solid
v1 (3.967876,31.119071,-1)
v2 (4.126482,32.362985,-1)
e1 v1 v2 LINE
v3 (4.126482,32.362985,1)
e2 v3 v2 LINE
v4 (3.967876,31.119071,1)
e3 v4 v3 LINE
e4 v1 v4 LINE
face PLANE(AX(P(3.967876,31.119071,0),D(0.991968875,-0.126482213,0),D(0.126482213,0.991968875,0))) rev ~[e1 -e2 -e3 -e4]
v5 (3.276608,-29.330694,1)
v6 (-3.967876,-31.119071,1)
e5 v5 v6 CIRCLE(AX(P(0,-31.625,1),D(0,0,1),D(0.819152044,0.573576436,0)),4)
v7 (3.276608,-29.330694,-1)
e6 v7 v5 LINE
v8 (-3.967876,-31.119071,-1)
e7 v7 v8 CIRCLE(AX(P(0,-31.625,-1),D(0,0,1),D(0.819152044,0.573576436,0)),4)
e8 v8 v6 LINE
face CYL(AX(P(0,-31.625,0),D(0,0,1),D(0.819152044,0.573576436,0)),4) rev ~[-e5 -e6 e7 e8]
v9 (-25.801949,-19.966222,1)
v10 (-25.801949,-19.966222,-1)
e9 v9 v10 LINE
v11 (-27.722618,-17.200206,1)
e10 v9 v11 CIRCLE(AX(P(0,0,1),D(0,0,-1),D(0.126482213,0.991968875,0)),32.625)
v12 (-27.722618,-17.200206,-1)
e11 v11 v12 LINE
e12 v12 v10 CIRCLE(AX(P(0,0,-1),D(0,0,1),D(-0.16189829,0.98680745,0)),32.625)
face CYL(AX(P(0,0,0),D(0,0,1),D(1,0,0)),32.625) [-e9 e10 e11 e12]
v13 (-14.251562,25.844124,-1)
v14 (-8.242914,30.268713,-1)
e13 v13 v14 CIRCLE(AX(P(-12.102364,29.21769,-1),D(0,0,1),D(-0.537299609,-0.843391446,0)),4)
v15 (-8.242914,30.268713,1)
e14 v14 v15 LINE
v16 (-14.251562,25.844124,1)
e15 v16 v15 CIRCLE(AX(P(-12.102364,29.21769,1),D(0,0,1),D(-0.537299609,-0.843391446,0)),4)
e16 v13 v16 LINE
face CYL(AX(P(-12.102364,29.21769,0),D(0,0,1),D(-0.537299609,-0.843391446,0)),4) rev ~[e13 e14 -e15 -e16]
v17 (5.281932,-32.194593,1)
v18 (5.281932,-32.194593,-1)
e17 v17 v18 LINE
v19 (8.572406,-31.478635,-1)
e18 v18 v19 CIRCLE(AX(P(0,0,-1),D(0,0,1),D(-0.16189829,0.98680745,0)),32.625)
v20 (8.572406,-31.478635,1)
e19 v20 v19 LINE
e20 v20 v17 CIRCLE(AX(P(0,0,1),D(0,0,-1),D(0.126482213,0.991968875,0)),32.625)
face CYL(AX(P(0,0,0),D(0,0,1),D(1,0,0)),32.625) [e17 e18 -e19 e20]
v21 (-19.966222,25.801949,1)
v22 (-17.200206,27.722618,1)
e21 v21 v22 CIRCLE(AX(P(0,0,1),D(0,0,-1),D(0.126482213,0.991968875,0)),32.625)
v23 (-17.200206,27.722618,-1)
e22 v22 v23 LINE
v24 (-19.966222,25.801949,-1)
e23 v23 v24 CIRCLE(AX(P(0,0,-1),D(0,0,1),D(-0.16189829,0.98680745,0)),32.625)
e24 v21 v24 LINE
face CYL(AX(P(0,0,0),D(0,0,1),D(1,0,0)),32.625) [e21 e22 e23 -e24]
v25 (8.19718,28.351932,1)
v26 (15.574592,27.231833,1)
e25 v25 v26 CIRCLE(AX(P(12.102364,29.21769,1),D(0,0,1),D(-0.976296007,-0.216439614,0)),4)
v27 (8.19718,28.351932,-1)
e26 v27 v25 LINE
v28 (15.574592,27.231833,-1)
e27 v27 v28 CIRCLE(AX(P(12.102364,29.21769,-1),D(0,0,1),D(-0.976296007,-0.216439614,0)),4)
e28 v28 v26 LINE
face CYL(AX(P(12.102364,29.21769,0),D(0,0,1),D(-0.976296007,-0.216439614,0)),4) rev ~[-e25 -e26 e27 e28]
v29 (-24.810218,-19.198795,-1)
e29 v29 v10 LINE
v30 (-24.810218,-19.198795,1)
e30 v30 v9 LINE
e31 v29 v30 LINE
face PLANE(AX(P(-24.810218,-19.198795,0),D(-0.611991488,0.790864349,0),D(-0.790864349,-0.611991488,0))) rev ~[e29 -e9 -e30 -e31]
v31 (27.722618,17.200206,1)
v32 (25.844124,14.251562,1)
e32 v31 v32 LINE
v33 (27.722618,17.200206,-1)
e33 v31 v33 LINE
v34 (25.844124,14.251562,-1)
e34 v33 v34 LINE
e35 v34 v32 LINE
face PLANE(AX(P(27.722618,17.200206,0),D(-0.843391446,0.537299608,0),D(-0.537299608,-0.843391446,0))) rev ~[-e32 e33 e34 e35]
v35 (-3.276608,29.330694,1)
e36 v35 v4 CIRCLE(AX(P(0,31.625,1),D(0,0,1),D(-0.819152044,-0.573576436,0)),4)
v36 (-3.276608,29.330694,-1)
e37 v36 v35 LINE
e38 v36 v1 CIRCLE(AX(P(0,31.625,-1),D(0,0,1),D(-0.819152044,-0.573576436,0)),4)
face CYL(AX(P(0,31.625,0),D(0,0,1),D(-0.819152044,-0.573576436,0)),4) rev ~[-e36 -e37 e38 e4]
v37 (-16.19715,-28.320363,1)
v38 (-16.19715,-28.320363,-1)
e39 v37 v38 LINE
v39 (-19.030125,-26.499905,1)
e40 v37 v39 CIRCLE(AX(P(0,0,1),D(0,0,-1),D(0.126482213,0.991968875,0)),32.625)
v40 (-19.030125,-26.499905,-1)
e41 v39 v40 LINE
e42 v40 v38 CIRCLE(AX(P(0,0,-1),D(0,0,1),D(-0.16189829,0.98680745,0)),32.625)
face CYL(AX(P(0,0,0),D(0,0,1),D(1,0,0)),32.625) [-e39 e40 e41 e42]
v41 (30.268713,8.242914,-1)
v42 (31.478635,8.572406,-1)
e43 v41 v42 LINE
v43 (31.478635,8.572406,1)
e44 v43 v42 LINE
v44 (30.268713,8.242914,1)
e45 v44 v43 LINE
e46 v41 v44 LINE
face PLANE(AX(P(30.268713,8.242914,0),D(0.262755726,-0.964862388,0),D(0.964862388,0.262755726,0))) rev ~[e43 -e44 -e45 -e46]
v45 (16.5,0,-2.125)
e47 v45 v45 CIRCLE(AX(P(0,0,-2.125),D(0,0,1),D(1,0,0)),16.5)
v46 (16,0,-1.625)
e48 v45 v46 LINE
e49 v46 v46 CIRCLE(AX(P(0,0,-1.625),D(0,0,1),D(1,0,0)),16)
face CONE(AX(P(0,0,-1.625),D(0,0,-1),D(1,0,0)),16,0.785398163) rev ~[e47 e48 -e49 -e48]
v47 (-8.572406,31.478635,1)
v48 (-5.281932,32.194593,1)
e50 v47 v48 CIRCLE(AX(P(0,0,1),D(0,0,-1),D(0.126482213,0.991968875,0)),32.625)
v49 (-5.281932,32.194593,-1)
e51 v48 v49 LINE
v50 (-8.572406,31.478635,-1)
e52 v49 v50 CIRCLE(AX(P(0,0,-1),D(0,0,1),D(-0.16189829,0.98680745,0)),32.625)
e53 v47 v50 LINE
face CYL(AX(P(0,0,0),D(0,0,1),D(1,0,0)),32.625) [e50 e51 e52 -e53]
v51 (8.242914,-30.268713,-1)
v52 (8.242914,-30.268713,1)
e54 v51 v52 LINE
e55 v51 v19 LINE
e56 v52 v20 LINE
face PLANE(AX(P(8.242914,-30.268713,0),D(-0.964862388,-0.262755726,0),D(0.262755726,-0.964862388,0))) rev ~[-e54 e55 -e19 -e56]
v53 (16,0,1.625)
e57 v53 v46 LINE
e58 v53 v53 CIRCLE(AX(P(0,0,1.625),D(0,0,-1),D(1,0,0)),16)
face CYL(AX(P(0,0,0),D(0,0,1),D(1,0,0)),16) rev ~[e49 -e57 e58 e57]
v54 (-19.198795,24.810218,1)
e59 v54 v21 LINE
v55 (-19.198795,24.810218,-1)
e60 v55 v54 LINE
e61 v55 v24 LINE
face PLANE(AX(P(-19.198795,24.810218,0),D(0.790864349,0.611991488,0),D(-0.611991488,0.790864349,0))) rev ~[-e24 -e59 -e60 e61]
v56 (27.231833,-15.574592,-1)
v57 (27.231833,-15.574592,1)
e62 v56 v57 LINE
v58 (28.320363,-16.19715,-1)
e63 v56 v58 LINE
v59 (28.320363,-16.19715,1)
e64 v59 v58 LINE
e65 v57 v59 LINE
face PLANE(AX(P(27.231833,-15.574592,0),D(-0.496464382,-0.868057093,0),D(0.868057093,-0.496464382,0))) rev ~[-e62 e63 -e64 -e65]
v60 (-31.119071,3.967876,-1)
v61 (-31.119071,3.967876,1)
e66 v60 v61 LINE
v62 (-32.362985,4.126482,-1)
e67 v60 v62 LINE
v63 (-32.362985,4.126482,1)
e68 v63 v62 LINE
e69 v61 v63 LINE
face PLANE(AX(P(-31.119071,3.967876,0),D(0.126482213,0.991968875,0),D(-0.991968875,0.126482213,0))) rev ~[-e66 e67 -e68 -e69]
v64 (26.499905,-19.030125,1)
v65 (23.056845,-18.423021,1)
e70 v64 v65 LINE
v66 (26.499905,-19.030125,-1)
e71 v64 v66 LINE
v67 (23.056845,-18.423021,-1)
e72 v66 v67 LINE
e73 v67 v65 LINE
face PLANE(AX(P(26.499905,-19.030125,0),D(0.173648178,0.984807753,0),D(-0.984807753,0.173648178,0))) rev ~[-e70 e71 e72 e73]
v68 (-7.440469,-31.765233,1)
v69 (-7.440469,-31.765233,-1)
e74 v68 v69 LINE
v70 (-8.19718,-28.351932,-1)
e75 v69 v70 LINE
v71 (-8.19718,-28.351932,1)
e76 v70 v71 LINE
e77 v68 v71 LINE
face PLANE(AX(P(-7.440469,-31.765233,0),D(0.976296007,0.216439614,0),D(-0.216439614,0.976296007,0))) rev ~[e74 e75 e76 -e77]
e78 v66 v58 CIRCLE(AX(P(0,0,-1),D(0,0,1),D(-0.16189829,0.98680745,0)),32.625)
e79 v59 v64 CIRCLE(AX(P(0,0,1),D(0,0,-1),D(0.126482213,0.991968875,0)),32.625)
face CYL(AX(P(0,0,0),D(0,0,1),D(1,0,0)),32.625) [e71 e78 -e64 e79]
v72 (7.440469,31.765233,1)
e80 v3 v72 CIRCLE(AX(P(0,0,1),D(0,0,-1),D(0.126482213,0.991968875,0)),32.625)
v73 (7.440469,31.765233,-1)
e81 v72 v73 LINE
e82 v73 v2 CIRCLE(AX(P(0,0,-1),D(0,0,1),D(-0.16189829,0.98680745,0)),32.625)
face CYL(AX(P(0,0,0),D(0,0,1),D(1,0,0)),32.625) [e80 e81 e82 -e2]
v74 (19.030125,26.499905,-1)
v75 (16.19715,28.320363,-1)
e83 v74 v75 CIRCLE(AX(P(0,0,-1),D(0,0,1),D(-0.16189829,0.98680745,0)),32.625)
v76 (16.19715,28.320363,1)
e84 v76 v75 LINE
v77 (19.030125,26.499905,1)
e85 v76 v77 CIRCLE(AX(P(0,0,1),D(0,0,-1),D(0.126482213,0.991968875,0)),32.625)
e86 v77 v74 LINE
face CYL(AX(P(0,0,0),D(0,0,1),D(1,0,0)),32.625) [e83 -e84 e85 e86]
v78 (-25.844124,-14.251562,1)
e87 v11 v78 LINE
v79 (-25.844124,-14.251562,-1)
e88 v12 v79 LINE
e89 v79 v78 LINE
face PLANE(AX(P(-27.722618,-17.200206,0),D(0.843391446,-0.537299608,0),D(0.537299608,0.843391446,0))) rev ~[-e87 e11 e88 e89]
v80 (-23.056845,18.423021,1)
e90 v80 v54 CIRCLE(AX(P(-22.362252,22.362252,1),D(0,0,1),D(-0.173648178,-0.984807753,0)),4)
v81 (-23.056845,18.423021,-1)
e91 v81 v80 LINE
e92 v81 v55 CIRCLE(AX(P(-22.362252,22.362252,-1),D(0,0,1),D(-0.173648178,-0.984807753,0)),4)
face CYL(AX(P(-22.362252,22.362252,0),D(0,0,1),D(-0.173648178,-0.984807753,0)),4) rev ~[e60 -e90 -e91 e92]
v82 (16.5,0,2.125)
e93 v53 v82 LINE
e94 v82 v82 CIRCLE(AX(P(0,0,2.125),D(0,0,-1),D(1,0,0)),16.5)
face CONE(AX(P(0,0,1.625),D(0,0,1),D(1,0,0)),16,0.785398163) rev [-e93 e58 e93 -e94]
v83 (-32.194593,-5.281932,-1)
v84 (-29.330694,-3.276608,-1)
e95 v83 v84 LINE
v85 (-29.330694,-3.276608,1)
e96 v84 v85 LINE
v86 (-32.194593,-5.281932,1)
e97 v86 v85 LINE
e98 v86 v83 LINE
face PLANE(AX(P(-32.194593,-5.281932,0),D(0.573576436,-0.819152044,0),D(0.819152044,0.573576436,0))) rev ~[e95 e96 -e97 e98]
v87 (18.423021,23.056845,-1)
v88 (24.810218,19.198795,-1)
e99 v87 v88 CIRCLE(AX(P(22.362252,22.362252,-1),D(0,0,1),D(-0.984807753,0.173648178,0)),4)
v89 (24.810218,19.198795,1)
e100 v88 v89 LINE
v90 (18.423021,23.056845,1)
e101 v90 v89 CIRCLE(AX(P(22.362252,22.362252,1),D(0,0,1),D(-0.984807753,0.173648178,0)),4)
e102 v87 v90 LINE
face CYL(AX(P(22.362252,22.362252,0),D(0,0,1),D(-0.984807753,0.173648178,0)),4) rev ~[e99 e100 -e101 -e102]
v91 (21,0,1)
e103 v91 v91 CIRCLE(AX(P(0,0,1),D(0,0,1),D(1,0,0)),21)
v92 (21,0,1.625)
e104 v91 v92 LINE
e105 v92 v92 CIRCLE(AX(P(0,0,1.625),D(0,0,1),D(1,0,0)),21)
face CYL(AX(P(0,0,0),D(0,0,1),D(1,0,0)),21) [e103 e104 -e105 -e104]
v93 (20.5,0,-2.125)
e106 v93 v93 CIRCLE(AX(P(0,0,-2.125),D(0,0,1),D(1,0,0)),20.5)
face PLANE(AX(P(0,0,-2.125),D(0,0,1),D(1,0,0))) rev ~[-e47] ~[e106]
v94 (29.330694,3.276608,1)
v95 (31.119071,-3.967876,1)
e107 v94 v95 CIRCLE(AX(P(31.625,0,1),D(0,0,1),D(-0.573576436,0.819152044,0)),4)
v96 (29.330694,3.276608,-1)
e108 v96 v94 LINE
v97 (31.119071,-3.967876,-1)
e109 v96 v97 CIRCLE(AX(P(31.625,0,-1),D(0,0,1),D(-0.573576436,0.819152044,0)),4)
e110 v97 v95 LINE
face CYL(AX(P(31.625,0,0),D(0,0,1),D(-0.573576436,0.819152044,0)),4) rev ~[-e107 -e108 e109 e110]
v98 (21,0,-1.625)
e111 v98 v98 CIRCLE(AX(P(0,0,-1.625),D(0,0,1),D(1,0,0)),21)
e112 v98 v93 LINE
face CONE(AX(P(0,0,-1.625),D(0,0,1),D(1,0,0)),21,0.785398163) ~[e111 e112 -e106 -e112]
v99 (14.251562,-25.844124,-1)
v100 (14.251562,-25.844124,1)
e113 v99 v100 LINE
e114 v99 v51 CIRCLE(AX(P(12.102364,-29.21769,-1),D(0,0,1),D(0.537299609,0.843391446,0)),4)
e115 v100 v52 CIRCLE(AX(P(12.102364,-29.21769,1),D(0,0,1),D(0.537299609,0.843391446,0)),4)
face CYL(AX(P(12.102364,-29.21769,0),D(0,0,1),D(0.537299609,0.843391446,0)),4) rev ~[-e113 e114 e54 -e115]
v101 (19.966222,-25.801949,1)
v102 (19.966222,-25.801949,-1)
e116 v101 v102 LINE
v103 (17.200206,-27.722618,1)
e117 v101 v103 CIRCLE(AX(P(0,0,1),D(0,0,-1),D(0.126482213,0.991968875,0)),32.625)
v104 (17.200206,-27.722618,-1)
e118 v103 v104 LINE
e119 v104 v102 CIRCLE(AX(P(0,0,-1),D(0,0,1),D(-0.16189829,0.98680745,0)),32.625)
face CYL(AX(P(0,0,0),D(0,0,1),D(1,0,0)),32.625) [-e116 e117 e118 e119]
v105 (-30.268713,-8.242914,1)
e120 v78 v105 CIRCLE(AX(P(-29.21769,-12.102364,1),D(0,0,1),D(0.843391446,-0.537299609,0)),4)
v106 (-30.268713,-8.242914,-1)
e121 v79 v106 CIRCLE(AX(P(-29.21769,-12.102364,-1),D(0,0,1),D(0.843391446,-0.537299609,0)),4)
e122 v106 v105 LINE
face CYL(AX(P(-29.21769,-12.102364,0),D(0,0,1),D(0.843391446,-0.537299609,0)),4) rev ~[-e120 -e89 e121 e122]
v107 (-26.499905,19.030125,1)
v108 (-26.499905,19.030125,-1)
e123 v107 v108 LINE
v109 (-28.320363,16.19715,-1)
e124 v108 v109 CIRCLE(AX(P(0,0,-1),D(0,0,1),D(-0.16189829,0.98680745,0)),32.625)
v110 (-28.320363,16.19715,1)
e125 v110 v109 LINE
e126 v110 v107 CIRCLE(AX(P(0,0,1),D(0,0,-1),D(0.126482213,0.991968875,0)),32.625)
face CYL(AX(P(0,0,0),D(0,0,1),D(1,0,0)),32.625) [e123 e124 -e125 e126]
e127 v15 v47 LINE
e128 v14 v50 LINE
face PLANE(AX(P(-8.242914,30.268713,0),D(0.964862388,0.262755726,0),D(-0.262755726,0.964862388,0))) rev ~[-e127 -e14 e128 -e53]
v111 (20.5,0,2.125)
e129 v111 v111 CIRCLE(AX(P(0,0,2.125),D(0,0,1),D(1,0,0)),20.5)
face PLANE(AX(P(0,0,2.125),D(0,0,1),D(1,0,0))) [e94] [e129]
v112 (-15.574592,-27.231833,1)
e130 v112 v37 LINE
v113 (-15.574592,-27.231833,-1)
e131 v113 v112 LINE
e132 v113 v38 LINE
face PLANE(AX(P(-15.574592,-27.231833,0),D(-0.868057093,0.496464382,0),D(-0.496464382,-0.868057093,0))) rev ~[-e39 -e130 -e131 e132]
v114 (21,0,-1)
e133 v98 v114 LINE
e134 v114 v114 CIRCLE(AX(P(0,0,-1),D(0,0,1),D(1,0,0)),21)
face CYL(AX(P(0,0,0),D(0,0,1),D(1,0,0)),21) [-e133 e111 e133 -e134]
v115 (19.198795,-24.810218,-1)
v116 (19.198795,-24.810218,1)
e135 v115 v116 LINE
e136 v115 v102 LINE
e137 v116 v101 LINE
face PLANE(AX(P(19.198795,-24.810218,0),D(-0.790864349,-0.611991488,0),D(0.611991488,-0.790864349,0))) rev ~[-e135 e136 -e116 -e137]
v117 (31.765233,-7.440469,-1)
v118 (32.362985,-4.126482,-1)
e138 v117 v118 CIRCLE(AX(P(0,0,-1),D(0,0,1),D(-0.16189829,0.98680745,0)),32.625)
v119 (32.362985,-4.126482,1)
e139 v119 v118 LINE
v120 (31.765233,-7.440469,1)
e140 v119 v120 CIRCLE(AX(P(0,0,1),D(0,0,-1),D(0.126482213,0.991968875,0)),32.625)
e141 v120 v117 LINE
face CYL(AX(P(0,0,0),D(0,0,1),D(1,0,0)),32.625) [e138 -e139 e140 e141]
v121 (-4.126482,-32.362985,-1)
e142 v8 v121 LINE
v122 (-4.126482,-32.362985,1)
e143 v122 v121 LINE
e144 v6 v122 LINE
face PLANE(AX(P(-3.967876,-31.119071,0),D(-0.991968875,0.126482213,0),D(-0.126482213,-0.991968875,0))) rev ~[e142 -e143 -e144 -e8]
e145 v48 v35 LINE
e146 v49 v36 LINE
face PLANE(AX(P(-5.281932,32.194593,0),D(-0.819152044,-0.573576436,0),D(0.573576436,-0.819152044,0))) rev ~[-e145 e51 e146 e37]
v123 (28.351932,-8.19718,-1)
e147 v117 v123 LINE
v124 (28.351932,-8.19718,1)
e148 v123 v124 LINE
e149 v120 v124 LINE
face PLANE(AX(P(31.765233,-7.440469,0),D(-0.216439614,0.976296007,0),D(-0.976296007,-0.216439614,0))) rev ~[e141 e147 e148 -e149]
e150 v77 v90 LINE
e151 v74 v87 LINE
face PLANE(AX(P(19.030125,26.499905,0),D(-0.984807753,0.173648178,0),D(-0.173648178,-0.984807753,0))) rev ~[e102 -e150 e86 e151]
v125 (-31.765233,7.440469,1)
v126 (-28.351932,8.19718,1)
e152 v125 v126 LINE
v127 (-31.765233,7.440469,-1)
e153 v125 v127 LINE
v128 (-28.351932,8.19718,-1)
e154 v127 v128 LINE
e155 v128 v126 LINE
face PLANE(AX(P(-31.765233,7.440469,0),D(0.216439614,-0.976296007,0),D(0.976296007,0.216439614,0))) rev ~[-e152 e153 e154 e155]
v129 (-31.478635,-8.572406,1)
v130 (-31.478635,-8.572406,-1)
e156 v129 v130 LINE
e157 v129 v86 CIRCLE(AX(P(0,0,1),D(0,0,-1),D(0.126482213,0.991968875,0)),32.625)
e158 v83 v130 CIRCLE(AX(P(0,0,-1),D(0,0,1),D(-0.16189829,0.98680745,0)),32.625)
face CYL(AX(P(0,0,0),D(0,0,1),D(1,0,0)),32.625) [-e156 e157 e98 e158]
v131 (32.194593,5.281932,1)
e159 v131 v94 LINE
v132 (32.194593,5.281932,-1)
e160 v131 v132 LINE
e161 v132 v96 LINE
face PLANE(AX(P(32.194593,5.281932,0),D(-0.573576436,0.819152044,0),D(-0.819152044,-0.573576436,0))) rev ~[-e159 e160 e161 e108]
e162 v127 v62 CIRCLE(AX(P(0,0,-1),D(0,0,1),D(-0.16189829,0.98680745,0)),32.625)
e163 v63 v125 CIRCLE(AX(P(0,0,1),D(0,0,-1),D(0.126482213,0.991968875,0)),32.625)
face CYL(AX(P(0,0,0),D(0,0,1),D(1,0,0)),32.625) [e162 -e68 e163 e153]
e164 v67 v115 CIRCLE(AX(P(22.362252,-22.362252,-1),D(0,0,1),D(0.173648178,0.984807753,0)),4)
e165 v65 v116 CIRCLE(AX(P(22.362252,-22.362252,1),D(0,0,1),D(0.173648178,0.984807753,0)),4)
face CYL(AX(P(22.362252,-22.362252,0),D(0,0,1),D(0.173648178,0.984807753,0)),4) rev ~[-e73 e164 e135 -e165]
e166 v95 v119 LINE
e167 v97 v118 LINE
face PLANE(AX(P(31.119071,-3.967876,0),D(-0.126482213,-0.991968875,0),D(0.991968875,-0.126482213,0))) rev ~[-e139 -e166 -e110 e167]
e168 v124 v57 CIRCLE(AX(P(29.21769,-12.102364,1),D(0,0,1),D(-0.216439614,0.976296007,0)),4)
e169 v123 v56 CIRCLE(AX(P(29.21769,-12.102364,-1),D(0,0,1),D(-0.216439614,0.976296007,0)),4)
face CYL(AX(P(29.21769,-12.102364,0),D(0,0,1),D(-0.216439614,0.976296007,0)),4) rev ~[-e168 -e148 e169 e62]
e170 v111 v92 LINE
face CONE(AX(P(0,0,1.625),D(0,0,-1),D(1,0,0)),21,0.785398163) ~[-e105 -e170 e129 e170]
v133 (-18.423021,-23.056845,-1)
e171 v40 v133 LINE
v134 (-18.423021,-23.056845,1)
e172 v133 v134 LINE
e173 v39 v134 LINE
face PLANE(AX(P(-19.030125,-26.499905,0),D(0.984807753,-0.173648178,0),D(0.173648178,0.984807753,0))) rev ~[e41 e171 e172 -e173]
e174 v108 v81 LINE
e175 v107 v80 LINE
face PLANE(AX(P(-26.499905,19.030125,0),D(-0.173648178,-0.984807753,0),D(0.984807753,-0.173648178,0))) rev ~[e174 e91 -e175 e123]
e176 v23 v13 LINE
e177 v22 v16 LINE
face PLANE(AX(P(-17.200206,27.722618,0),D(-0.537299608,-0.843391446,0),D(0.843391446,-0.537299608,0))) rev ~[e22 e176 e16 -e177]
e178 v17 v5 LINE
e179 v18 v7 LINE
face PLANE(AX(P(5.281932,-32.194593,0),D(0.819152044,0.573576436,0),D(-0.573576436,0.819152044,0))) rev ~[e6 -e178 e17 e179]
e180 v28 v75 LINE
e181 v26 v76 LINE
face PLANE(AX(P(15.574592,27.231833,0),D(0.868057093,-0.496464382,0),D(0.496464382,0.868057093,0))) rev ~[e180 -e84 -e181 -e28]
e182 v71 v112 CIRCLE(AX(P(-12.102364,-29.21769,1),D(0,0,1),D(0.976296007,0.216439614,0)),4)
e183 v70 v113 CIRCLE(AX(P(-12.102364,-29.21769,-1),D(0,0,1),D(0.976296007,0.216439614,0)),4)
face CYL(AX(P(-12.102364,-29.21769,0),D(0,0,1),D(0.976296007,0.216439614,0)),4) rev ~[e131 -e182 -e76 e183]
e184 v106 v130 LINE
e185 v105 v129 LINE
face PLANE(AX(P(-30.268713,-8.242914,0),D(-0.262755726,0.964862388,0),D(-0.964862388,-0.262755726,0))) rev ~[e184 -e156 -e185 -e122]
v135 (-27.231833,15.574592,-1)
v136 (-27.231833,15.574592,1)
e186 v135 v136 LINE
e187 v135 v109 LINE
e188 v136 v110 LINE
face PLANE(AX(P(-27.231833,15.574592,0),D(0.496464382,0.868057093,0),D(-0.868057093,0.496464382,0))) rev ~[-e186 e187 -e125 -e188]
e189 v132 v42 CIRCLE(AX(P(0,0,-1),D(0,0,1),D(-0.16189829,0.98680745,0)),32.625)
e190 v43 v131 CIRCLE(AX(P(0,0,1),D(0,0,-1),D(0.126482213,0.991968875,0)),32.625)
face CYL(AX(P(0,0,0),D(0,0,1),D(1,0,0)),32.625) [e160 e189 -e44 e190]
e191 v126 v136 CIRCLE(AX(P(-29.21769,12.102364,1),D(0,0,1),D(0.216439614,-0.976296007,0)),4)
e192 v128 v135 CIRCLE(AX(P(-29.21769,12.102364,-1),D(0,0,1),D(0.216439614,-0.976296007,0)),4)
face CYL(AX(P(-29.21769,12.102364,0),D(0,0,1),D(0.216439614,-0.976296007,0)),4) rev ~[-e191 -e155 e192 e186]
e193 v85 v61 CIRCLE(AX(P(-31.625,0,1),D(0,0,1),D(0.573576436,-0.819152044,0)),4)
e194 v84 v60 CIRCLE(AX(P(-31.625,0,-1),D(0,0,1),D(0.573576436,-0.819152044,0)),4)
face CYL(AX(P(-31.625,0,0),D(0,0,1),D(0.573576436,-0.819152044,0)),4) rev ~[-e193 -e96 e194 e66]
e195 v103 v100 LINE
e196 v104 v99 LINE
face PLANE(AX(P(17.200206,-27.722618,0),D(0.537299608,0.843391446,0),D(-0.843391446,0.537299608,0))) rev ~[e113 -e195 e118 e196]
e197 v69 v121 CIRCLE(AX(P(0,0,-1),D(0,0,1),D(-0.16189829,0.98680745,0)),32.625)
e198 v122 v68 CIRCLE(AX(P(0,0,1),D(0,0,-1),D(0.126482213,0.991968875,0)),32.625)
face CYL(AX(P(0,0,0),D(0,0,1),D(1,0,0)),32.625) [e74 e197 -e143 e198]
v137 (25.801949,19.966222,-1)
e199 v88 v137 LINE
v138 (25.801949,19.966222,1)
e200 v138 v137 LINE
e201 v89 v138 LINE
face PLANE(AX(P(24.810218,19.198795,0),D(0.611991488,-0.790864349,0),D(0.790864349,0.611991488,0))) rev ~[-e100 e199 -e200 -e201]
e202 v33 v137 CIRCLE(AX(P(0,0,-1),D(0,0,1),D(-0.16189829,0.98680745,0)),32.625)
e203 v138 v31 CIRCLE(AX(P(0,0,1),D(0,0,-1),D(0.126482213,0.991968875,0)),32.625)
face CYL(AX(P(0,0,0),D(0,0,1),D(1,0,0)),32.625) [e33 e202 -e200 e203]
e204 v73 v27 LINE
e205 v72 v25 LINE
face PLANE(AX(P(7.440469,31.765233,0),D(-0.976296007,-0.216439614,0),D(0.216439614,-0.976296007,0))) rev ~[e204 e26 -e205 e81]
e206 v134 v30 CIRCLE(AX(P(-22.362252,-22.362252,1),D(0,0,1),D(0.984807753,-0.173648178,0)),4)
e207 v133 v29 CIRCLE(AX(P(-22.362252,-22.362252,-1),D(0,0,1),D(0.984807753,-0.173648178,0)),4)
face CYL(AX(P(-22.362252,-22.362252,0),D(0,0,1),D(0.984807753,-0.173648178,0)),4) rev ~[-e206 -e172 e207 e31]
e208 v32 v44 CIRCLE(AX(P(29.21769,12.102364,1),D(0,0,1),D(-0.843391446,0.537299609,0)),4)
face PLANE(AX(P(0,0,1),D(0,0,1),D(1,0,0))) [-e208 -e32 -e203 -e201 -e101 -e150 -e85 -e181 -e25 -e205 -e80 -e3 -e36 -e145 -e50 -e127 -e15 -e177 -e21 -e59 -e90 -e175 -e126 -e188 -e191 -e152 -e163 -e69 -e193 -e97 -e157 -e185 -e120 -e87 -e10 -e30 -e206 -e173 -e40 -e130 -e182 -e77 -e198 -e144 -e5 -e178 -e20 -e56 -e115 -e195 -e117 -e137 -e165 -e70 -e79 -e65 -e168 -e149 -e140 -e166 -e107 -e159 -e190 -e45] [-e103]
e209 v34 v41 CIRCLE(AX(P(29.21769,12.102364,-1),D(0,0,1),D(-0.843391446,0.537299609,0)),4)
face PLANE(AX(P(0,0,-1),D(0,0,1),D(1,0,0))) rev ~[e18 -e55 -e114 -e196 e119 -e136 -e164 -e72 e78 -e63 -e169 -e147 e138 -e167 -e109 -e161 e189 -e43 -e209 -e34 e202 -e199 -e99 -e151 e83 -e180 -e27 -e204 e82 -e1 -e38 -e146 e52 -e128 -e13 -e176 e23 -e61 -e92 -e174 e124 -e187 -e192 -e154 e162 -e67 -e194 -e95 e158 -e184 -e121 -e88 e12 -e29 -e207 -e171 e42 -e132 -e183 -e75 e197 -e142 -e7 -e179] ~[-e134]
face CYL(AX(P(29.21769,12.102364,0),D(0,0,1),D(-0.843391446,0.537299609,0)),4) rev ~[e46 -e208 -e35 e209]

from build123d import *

# Parameters (mm, degrees)
ESQUISSE1_R                  = 32.625
EXTRUSION1_DEPTH             = 1
ENL_V_MAT_EXTRU_1_DEPTH      = 2
R_P_TITION_CIRCULAIRE1_COUNT = 16
ESQUISSE3_R                  = 21
EXTRUSION2_DEPTH             = 2.125
ESQUISSE4_R                  = 16
ENL_V_MAT_EXTRU_2_DEPTH      = 3.125
ENL_V_MAT_EXTRU_2_DEPTH_BACK = 3.125
CHANFREIN1_SIZE              = 0.5


with BuildPart() as part:
    # Esquisse1 → Extrusion1 (new body, symmetric)
    with BuildSketch(Plane.XY):
        Circle(ESQUISSE1_R)
    extrude(amount=EXTRUSION1_DEPTH, both=True)

    # Esquisse2 → Enlèv. mat.-Extru.1 (cut, symmetric)
    with BuildSketch(Plane.XY):
        with BuildLine():
            Line((-5.281931711, 32.194593062), (-3.276608177, 29.330694255))
            ThreePointArc((-3.276608177, 29.330694255), (0.958663447, 27.741578262), (3.967875501, 31.119071146))
            Line((3.967875501, 31.119071146), (4.126482213, 32.362984559))
            ThreePointArc((4.126482213, 32.362984559), (-0.583827722, 32.619775753), (-5.281931711, 32.194593062))
        make_face()
    enl_v_mat_extru_1 = extrude(amount=ENL_V_MAT_EXTRU_1_DEPTH, both=True, mode=Mode.SUBTRACT)

    # Répétition circulaire1: Enlèv. mat.-Extru.1 ×16 about axis
    r_p_tition_circulaire1_axis = Axis((0, 0, 0), (0, 0, 1))
    for i in range(1, R_P_TITION_CIRCULAIRE1_COUNT):
        add(enl_v_mat_extru_1.rotate(r_p_tition_circulaire1_axis, i * 360 / R_P_TITION_CIRCULAIRE1_COUNT), mode=Mode.SUBTRACT)

    # Esquisse3 → Extrusion2 (add, symmetric)
    with BuildSketch(Plane.XY):
        Circle(ESQUISSE3_R)
    extrude(amount=EXTRUSION2_DEPTH, both=True)

    # Esquisse4 → Enlèv. mat.-Extru.2 (cut, two sides)
    with BuildSketch(Plane.XY) as enl_v_mat_extru_2_sk:
        Circle(ESQUISSE4_R)
    extrude(amount=ENL_V_MAT_EXTRU_2_DEPTH, mode=Mode.SUBTRACT)
    extrude(enl_v_mat_extru_2_sk.sketch, amount=-ENL_V_MAT_EXTRU_2_DEPTH_BACK, mode=Mode.SUBTRACT)

    # Chanfrein1
    chanfrein1_edges = [part.edges().sort_by_distance(p)[0] for p in [
        (-21, 0, -2.125),
        (-21, 0, 2.125),
        (-16, 0, -2.125),
        (-16, 0, 2.125),
    ]]
    chamfer(chanfrein1_edges, length=CHANFREIN1_SIZE)


solid = part.part
